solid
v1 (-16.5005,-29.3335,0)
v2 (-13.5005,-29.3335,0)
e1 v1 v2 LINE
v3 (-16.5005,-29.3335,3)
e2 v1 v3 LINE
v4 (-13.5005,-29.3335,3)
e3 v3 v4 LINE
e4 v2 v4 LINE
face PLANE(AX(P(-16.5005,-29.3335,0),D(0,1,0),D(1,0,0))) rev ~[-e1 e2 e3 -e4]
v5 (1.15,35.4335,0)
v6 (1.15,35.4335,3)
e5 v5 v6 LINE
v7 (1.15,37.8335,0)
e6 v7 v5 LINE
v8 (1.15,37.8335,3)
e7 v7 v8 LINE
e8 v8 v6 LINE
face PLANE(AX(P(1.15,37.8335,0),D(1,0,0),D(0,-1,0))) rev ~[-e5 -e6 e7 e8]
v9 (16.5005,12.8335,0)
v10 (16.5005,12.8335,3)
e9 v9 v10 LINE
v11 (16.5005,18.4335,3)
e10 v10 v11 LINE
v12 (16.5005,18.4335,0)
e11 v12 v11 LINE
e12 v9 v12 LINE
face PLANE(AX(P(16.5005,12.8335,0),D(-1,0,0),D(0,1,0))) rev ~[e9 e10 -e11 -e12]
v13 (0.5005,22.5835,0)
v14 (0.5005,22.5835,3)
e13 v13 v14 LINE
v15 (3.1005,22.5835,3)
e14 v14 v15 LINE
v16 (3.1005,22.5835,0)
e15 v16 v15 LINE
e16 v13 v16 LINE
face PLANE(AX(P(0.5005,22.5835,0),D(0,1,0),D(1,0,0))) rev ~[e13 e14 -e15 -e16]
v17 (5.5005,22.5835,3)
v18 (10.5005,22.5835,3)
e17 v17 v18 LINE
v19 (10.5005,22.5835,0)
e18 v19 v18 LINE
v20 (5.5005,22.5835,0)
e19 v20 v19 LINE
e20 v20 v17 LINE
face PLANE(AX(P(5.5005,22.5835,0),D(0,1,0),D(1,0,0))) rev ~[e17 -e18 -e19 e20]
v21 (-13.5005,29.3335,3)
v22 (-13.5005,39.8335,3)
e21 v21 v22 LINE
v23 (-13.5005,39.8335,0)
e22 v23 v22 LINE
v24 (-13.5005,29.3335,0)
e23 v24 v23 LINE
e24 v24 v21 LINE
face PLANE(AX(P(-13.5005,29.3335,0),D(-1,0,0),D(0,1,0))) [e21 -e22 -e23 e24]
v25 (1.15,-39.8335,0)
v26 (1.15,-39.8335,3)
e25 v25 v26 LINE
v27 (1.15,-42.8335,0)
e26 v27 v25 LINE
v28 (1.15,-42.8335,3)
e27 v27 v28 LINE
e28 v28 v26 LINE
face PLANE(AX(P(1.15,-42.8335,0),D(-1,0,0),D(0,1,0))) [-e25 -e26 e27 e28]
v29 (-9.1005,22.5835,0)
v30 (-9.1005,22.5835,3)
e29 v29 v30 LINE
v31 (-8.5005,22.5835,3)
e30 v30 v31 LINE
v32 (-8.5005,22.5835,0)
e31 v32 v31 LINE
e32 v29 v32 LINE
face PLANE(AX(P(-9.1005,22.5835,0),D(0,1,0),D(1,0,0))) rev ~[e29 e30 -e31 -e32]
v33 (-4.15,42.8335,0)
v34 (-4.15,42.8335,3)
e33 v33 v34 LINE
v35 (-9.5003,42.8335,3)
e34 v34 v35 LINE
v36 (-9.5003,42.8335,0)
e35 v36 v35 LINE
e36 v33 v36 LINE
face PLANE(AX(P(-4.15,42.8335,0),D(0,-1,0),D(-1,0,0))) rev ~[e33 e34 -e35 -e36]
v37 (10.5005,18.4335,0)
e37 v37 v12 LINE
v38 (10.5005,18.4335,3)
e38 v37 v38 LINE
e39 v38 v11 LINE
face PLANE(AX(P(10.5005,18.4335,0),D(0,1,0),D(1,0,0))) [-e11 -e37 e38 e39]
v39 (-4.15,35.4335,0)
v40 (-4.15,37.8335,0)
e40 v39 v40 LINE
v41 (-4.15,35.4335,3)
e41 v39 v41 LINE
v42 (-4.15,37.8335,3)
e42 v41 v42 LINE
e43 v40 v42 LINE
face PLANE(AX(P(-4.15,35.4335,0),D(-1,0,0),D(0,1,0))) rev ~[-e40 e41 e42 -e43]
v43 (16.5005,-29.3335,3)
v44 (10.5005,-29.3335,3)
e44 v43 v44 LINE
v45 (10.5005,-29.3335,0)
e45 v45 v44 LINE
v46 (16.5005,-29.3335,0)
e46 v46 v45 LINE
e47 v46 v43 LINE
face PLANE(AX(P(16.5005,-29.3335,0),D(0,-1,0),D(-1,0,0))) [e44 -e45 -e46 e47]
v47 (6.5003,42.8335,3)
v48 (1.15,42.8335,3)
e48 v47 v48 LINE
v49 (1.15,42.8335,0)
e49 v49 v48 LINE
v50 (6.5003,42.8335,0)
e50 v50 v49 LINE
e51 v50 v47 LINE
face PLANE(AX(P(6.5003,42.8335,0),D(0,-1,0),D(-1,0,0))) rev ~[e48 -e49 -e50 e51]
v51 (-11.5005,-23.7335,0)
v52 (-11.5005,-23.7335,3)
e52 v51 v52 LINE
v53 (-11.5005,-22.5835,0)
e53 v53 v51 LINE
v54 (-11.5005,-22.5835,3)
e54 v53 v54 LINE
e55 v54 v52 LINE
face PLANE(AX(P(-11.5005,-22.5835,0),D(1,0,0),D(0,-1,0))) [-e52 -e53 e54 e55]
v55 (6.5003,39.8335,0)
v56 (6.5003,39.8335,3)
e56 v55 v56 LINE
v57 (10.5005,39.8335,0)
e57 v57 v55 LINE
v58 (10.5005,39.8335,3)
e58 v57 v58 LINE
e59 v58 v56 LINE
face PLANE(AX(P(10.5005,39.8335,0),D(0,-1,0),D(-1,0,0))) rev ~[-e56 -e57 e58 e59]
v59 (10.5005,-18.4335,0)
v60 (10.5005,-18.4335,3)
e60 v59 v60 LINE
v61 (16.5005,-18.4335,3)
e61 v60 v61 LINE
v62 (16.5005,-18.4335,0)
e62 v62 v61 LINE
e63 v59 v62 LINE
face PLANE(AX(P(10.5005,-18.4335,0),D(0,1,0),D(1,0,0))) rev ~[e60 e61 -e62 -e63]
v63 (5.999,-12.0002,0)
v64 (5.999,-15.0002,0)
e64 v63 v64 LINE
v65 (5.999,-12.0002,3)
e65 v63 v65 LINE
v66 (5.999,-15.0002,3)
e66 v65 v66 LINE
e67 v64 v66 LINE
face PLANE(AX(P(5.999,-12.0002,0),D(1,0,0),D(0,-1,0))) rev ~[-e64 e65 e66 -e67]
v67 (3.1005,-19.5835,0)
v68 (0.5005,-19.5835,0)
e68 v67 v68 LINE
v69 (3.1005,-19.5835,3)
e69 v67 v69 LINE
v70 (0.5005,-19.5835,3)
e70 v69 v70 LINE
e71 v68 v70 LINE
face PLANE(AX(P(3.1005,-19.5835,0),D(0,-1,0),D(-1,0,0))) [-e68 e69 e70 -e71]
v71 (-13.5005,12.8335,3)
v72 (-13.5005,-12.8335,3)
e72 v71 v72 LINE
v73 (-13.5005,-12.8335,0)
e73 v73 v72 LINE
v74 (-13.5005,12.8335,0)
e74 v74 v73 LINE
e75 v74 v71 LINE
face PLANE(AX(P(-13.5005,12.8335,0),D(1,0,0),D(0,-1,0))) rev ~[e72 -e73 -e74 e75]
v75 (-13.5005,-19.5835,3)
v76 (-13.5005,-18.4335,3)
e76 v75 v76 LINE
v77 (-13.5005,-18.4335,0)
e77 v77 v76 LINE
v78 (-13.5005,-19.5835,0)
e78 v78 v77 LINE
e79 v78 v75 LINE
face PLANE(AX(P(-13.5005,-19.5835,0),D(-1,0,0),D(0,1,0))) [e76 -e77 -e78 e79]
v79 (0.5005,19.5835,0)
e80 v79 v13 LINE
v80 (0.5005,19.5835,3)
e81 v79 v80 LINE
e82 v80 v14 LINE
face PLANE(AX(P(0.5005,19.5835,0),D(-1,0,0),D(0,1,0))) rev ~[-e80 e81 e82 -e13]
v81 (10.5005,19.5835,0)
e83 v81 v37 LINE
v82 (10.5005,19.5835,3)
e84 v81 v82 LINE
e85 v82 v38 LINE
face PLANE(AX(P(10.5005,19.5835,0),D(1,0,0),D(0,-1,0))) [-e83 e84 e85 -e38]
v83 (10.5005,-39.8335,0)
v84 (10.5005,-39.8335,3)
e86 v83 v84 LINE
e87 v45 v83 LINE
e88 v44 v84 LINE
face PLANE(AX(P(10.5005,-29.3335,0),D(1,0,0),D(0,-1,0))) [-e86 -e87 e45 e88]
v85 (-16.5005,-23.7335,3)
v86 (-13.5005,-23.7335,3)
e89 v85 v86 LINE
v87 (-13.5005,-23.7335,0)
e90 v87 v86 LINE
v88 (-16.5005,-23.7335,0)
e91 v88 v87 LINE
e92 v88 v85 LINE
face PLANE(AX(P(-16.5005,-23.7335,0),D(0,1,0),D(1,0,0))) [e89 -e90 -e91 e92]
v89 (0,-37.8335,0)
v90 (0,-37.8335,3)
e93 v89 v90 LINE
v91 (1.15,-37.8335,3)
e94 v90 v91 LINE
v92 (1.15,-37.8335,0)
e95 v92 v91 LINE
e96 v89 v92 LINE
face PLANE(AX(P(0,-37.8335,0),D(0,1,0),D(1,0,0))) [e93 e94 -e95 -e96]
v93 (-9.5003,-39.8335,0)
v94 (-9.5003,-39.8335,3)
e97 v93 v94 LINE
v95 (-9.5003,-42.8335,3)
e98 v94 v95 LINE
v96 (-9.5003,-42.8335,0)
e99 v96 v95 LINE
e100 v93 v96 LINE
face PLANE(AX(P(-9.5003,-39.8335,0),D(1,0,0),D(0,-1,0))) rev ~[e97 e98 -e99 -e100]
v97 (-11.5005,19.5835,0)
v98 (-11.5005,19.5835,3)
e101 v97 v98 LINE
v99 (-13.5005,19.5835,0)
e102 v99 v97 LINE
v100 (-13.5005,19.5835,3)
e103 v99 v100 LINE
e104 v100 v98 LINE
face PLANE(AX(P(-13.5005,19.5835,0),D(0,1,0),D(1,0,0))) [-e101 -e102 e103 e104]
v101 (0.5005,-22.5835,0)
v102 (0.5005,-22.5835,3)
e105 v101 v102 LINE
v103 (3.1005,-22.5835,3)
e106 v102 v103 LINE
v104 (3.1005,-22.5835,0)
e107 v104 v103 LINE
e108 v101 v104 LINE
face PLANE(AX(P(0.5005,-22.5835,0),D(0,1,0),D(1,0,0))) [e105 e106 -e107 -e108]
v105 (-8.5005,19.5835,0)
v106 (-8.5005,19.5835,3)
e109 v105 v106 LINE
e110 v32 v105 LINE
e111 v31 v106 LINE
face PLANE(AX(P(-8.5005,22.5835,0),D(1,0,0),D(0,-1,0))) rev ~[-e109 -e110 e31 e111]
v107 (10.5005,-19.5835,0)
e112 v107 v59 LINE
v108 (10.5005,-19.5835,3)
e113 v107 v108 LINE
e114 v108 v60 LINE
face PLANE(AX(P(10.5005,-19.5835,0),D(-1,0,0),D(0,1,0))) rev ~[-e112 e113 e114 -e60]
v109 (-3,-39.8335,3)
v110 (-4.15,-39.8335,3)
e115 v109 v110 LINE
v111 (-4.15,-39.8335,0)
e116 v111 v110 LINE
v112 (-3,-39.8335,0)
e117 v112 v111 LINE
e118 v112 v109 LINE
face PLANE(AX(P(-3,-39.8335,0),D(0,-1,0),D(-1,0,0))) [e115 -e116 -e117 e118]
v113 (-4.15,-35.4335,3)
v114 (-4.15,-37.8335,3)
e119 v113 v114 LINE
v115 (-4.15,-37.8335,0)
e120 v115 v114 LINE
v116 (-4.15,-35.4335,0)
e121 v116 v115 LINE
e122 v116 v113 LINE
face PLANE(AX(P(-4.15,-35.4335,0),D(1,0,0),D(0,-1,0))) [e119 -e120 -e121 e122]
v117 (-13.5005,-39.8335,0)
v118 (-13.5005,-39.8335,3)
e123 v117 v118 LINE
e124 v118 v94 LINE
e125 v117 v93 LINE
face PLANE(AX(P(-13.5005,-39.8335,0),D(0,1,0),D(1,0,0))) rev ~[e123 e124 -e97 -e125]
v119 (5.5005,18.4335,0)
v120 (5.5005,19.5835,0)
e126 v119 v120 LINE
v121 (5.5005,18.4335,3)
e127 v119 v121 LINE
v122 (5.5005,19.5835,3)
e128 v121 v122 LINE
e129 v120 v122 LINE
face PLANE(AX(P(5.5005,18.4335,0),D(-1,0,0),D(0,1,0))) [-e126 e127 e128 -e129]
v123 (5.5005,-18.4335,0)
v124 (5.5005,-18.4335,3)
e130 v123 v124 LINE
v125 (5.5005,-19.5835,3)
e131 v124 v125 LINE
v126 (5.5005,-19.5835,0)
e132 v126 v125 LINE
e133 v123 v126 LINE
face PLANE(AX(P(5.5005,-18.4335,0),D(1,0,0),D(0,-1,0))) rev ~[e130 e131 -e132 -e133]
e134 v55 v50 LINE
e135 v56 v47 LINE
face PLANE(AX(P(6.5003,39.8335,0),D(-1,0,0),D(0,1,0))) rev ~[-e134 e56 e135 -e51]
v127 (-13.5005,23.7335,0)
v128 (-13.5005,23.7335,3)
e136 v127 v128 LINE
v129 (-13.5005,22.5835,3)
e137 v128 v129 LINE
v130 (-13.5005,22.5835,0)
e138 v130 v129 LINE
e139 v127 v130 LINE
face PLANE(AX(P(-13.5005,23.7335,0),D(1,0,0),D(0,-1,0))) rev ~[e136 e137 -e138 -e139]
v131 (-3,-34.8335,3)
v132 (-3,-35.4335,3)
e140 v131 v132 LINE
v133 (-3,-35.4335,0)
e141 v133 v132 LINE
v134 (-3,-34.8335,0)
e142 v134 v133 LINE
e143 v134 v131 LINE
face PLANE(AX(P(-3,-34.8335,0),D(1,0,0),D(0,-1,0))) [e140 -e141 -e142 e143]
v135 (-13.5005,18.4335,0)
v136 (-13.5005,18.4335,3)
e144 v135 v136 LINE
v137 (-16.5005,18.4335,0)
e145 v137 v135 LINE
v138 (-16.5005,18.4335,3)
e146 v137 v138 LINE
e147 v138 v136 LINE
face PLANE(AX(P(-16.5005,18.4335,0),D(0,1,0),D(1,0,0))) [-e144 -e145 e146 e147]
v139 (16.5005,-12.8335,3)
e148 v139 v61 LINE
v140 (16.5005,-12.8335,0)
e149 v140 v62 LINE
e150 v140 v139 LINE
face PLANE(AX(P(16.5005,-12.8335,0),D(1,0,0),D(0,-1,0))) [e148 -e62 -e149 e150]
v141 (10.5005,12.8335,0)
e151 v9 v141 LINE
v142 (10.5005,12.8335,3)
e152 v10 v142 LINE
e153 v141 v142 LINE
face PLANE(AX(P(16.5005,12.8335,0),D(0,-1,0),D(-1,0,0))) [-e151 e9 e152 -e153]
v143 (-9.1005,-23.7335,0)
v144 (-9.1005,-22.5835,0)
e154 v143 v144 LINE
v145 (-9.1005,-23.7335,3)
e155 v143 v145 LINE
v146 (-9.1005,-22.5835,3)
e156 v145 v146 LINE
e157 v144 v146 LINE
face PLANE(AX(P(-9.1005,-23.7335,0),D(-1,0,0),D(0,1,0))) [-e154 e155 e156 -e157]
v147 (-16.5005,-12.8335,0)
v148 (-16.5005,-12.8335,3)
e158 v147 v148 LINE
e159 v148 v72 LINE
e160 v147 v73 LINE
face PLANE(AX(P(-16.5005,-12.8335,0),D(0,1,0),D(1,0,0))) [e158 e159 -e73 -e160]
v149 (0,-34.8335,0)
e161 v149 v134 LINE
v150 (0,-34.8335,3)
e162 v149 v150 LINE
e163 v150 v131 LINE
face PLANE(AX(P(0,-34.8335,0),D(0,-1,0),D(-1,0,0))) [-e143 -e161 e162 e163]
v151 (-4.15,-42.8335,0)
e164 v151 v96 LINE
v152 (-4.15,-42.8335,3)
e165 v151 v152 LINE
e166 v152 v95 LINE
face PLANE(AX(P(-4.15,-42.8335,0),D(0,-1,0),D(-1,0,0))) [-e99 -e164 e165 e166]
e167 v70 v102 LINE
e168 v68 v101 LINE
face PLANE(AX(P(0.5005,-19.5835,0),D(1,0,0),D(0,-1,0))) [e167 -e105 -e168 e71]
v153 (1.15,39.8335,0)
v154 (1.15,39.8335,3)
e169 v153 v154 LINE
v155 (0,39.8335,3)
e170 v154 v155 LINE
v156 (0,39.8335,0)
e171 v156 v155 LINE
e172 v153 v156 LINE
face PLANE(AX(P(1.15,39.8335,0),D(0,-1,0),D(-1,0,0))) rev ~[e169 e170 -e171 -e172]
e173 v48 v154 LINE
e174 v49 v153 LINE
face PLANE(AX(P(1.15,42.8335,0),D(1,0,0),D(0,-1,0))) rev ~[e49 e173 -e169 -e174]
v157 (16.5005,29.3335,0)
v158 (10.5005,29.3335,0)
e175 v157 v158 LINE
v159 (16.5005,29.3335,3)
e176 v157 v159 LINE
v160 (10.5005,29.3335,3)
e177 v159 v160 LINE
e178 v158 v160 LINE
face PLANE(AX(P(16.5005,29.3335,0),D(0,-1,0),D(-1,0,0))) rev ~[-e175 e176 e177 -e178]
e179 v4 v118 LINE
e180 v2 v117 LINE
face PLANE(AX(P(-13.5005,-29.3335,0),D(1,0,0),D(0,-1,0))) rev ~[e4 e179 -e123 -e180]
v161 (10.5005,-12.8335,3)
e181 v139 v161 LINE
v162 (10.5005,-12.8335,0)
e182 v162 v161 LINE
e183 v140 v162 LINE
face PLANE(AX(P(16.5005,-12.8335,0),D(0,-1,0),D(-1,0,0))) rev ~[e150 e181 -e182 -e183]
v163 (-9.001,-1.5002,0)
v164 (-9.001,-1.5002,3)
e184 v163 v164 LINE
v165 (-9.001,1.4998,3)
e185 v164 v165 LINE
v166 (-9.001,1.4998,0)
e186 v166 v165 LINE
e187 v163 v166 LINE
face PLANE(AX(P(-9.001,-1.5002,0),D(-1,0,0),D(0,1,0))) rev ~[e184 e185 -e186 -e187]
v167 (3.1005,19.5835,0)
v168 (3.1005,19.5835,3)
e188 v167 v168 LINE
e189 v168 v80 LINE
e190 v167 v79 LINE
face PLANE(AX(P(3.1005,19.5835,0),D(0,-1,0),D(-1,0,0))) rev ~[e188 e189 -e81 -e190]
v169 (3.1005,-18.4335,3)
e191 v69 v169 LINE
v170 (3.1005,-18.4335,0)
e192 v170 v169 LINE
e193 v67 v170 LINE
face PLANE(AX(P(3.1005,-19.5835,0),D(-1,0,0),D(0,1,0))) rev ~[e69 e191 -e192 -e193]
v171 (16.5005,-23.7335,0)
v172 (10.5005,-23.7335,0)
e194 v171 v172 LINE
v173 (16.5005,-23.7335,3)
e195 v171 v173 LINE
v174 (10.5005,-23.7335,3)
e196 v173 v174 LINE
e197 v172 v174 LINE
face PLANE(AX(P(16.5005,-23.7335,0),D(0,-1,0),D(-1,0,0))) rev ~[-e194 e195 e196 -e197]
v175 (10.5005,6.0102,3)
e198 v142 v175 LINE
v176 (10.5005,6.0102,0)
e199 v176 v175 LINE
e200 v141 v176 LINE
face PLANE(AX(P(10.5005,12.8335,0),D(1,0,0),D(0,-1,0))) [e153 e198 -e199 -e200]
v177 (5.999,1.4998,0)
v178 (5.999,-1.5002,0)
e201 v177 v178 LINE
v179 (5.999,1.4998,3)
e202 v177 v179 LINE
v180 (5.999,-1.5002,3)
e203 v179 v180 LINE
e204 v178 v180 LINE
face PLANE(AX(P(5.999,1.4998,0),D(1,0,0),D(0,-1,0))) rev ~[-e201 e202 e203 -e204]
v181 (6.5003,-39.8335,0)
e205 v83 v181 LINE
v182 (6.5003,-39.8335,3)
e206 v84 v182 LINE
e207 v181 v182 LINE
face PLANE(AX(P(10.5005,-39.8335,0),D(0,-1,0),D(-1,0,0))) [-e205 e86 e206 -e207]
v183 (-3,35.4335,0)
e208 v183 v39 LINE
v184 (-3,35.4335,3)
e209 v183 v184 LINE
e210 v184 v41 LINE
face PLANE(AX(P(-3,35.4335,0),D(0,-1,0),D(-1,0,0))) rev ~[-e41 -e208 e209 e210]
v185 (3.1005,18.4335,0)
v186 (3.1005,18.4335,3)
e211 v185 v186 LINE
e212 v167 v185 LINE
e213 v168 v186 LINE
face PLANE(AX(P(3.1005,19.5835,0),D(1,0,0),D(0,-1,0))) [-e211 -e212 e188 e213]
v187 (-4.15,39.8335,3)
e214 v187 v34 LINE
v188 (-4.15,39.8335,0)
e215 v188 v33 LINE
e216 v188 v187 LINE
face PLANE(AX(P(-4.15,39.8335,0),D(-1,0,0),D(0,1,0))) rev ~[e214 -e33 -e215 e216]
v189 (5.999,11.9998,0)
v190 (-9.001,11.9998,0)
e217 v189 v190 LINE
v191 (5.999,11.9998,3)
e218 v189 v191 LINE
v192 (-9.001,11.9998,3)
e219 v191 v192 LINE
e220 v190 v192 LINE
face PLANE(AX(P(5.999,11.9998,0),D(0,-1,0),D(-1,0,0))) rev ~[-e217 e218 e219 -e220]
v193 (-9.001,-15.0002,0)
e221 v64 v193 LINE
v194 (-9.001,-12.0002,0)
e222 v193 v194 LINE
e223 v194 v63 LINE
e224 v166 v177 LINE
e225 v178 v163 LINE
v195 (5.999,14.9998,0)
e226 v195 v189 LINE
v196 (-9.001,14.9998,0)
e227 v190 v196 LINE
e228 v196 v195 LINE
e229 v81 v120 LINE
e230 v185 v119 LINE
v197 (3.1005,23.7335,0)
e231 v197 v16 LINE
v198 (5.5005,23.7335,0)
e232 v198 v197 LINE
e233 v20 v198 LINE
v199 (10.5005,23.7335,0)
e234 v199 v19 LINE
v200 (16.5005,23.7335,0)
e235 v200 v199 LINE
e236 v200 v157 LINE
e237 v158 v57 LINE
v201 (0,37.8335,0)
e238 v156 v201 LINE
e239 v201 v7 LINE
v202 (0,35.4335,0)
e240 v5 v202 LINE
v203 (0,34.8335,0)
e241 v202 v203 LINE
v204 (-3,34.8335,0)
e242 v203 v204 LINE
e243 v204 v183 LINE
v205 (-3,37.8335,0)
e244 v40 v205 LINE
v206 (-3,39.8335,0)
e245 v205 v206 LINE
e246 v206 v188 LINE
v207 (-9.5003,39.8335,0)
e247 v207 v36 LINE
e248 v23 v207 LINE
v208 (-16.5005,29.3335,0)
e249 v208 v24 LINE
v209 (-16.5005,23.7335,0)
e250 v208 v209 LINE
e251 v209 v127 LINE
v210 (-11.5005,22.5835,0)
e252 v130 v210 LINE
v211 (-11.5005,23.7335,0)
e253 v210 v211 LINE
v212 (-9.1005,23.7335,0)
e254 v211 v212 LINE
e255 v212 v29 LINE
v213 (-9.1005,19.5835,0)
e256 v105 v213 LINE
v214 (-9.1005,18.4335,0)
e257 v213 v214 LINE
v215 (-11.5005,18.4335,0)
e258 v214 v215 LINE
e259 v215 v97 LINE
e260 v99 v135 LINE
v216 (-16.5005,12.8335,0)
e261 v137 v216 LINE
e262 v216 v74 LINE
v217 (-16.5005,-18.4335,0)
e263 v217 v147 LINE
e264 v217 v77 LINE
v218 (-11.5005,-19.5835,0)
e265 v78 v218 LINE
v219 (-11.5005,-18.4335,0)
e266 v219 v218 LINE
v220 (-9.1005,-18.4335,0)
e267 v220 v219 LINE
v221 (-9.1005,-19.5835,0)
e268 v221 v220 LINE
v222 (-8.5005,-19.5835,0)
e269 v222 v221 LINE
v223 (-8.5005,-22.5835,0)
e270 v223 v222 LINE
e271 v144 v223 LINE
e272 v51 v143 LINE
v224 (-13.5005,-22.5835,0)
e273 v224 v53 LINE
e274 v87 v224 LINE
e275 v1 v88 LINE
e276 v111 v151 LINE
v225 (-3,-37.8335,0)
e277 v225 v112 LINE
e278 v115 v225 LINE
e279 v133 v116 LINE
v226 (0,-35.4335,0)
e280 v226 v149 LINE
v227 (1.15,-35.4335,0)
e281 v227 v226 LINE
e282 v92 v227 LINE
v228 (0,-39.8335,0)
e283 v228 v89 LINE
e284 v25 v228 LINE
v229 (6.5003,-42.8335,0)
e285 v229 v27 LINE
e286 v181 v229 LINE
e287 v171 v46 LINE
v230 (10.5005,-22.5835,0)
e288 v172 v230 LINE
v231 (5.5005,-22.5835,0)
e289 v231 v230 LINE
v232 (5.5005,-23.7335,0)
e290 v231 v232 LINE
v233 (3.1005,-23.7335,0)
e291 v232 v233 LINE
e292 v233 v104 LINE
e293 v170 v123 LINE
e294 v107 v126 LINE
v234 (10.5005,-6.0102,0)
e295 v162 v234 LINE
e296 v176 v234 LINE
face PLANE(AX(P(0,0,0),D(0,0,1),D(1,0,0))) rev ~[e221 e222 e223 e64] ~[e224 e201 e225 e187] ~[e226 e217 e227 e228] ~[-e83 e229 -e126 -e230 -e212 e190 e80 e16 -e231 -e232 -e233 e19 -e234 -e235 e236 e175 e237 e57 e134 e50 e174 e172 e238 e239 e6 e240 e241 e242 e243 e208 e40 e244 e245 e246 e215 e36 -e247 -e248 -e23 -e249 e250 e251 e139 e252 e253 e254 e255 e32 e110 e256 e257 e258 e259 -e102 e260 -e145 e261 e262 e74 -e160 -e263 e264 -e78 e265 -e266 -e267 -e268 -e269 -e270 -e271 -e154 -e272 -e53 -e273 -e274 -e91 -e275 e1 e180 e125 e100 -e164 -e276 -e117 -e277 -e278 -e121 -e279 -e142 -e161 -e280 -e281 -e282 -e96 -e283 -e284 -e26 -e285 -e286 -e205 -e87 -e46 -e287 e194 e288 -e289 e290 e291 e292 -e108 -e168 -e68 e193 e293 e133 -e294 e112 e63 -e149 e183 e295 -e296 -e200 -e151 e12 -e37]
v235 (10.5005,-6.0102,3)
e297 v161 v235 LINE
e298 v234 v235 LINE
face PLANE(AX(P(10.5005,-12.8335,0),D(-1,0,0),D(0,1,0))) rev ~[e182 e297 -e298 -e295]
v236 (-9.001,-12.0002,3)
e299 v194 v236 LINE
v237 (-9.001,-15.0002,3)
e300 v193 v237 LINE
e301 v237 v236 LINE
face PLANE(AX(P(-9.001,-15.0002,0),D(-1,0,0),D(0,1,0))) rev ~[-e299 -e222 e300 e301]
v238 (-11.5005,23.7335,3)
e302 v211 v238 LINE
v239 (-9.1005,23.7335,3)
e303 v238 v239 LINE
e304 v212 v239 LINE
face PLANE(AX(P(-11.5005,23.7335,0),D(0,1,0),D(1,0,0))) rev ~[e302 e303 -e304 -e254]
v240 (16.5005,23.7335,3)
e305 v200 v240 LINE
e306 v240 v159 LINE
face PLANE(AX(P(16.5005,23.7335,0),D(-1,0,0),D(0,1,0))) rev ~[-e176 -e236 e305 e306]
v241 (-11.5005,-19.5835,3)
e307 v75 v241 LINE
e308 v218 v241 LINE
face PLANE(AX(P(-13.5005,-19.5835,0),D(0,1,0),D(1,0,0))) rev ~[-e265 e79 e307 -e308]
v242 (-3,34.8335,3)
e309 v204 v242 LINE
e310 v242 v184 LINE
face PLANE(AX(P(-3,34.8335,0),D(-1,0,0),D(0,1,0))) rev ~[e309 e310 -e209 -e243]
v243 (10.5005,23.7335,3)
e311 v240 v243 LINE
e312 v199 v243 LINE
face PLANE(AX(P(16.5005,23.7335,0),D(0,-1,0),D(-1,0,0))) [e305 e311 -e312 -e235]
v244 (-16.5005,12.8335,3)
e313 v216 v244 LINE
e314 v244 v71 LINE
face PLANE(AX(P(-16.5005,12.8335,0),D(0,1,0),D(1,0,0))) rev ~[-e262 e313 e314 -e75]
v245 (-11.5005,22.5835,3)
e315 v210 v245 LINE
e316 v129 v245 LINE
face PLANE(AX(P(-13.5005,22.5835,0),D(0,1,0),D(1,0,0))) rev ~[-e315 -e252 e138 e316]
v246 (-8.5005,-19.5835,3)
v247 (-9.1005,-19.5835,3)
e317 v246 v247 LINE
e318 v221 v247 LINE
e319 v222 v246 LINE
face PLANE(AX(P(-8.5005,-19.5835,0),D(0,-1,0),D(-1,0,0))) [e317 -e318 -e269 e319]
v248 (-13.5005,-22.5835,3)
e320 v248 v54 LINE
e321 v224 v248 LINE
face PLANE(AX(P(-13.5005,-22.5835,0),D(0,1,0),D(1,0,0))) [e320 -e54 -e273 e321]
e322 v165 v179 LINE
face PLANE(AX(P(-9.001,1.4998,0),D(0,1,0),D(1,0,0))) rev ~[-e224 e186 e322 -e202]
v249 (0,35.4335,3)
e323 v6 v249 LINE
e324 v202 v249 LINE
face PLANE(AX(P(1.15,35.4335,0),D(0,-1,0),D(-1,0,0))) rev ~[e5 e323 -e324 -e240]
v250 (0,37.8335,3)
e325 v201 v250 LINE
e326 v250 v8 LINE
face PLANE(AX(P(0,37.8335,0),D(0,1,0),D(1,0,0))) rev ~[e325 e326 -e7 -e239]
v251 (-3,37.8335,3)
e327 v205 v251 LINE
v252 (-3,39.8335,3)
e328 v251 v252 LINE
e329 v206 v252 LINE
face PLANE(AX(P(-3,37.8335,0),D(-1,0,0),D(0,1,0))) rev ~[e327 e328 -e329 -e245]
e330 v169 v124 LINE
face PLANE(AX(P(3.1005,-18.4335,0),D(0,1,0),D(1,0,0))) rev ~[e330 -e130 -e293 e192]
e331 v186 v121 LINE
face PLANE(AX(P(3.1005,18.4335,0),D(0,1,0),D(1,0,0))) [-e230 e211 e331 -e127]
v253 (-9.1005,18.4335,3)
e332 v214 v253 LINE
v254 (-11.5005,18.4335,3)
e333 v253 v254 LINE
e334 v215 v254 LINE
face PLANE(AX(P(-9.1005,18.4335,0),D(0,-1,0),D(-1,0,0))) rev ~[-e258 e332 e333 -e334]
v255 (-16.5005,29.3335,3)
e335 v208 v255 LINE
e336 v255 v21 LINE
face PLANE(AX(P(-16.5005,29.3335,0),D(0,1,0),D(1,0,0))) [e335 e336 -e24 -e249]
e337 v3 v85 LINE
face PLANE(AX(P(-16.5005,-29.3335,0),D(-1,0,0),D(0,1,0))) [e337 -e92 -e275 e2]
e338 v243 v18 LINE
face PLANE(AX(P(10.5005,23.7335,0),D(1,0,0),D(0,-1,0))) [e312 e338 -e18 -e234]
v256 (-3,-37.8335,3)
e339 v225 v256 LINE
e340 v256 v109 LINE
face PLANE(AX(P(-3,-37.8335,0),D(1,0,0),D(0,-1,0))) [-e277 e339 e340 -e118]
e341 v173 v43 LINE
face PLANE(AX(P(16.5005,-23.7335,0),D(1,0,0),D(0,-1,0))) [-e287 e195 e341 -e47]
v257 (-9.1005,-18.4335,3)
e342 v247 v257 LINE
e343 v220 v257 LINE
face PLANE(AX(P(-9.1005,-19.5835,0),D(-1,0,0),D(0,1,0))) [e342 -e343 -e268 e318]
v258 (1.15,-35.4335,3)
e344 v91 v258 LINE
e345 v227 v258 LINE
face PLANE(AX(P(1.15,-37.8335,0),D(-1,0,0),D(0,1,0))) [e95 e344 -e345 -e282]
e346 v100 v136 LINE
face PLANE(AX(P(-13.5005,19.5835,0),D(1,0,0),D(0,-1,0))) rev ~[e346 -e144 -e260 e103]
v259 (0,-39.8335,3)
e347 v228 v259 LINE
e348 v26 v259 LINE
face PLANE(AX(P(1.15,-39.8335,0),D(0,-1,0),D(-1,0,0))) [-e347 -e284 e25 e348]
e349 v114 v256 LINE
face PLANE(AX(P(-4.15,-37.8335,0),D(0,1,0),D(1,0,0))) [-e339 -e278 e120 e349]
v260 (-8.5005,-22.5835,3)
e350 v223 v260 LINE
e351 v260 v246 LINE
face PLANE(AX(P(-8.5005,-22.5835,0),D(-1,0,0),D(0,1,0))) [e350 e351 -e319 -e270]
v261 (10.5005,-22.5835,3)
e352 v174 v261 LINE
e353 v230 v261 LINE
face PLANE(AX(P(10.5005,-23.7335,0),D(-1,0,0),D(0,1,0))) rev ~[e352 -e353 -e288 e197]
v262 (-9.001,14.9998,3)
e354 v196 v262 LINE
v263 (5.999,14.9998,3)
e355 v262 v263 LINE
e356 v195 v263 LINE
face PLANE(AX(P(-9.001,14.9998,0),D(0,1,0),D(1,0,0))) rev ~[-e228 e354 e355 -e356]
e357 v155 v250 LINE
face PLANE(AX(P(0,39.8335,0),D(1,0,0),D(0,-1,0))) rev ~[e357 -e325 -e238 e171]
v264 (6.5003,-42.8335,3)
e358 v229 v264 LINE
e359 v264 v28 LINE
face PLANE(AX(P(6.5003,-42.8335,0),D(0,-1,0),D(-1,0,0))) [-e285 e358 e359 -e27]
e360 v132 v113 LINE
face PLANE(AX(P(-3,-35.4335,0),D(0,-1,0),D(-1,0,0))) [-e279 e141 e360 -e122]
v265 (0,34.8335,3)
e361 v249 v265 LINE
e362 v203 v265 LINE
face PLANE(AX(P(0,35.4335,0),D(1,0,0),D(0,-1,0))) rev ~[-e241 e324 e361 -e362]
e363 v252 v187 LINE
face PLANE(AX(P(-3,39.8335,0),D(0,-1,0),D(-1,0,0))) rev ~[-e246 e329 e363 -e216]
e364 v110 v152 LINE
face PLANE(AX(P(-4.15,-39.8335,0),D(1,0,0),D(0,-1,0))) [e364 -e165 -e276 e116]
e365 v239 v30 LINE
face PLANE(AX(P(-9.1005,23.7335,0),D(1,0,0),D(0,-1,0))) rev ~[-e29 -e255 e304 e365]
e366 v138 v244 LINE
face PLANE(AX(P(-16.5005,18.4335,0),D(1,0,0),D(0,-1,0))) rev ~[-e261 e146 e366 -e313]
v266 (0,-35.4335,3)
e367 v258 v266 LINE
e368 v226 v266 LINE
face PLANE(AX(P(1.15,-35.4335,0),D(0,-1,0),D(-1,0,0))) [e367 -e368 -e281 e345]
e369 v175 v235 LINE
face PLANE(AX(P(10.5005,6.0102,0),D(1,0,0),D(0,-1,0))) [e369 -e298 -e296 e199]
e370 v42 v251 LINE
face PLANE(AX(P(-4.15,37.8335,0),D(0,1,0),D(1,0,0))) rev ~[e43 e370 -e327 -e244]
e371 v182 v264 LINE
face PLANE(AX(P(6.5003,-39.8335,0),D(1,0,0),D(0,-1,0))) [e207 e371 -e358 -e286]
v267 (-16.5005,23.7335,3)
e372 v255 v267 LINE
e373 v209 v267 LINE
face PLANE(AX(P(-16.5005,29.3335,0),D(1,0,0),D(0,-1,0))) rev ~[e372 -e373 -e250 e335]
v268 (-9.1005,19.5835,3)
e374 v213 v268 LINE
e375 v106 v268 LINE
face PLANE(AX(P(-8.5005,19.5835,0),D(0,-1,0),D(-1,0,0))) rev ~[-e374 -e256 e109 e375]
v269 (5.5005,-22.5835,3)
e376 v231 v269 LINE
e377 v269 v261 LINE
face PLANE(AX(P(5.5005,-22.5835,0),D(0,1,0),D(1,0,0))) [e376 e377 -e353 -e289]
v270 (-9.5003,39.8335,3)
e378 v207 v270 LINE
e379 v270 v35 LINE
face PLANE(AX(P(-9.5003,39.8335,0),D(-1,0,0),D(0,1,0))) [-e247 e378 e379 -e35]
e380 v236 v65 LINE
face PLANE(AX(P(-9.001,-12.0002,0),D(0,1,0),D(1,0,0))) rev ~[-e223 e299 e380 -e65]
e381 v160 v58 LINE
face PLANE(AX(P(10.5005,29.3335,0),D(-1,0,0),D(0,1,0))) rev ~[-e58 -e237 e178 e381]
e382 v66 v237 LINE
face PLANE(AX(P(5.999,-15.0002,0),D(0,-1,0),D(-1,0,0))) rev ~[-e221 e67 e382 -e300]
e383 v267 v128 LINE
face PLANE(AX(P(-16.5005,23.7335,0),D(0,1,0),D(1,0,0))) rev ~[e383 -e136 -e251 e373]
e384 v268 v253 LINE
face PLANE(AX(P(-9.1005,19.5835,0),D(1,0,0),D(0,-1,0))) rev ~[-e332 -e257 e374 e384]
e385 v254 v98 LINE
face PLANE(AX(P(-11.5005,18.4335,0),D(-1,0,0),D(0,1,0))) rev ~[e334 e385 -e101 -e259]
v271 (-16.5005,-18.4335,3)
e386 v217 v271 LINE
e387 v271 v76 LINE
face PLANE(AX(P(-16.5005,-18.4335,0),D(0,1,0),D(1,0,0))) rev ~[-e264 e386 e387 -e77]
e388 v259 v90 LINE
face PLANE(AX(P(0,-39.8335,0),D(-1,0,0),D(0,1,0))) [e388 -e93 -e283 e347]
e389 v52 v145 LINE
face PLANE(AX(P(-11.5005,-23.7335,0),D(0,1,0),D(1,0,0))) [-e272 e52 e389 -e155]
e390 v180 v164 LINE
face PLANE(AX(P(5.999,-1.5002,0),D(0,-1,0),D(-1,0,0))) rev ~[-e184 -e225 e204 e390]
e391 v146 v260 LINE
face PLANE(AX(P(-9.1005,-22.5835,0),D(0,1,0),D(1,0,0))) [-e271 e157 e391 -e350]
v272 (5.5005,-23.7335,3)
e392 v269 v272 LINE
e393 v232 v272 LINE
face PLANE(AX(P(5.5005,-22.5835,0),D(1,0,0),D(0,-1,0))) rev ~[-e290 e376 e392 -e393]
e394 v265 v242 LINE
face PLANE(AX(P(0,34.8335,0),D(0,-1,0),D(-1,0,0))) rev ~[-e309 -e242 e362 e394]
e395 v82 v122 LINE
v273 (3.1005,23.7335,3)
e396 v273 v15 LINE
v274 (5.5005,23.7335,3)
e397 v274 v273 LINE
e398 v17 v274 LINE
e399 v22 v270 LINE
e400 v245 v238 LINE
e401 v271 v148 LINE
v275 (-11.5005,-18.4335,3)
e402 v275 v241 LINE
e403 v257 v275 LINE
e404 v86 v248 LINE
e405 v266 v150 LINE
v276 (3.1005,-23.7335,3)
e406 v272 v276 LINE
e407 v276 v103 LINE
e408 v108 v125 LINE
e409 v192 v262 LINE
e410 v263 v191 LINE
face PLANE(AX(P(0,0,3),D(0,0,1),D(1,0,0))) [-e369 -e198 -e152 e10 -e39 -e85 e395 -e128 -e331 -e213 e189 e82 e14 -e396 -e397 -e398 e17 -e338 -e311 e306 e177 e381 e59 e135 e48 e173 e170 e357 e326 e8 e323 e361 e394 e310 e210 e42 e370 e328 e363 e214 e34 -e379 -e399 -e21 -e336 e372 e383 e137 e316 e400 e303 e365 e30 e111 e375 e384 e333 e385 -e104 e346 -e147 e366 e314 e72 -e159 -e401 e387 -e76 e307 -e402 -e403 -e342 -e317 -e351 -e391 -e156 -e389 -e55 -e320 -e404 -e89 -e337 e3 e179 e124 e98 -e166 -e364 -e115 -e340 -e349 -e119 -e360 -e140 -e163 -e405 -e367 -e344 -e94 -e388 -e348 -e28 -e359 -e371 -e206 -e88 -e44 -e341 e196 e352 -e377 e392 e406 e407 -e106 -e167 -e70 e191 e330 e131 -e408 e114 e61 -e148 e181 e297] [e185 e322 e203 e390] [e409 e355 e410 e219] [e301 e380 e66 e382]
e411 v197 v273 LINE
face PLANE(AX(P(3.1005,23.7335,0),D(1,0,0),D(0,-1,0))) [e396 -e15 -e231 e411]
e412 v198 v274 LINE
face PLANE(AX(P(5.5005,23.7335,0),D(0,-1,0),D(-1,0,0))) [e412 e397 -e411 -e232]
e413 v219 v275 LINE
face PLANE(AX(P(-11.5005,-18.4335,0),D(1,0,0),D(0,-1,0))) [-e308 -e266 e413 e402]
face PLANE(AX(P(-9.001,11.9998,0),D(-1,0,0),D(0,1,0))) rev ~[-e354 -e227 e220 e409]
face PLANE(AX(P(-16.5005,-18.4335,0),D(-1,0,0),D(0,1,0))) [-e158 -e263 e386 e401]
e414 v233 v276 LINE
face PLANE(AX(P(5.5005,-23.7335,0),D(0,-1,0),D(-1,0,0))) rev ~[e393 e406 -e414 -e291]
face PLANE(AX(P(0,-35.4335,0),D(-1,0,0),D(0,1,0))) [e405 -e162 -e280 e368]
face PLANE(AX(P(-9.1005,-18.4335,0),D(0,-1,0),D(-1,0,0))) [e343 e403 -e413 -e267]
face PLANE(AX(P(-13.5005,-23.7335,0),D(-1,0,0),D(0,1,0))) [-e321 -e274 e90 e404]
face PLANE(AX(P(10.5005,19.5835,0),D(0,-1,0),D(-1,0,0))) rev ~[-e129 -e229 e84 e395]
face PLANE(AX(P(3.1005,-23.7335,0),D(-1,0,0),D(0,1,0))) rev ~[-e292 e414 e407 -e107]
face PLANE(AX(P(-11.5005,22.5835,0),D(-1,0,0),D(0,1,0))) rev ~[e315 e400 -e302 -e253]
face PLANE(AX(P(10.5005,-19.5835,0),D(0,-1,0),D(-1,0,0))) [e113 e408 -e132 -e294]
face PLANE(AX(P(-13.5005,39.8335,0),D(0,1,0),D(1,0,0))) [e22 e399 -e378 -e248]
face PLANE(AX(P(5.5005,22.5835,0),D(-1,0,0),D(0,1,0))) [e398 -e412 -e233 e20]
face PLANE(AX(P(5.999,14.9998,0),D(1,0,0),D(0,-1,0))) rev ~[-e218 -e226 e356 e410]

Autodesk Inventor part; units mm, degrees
ref_plane "YZ Plane" through (0, 0, 0) normal (1, 0, 0) x (0, 1, 0)
ref_plane "XZ Plane" through (0, 0, 0) normal (0, 1, 0) x (-1, 0, 0)
ref_plane "XY Plane" through (0, 0, 0) normal (0, 0, 1) x (1, 0, 0)
sketch "Sketch1" plane through (0, 0, 0) normal (0, 0, 1) x (1, 0, 0)
  line L0 (16.5005, -29.3335) -> (10.5005, -29.3335)
  line L1 (10.5005, -29.3335) -> (10.5005, -39.8335)
  line L2 (16.5005, -23.7335) -> (10.5005, -23.7335)
  line L3 (10.5005, -23.7335) -> (10.5005, -22.5835)
  line L4 (10.5005, -18.4335) -> (16.5005, -18.4335)
  line L5 (16.5005, -23.7335) -> (16.5005, -29.3335)
  line L6 (25.9291, -21.0835) -> (-23.8941, -21.0835) construction
  line L7 (10.5005, -19.5835) -> (5.5005, -19.5835)
  line L8 (0.5005, -19.5835) -> (0.5005, -22.5835)
  line L9 (0.5005, -22.5835) -> (3.1005, -22.5835)
  line L10 (3.1005, -18.4335) -> (5.5005, -18.4335)
  line L11 (5.5005, -18.4335) -> (5.5005, -19.5835)
  line L12 (5.5005, -23.7335) -> (3.1005, -23.7335)
  line L13 (3.1005, -23.7335) -> (3.1005, -22.5835)
  line L14 (10.5005, -19.5835) -> (10.5005, -18.4335)
  line L15 (16.5005, -12.8335) -> (10.5005, -12.8335)
  line L16 (10.5005, -12.8335) -> (10.5005, -6.0102)
  line L17 (16.5005, -12.8335) -> (16.5005, -18.4335)
  line L18 (-29.2331, 0) -> (54.6642, 0) construction
  line L19 (5.5005, -22.5835) -> (5.5005, -23.7335)
  line L20 (3.1005, -19.5835) -> (3.1005, -18.4335)
  line L21 (3.1005, -19.5835) -> (0.5005, -19.5835)
  line L22 (5.5005, -22.5835) -> (10.5005, -22.5835)
  line L23 (16.5005, 29.3335) -> (10.5005, 29.3335)
  line L24 (10.5005, 29.3335) -> (10.5005, 39.8335)
  line L25 (16.5005, 23.7335) -> (10.5005, 23.7335)
  line L26 (10.5005, 23.7335) -> (10.5005, 22.5835)
  line L27 (10.5005, 18.4335) -> (16.5005, 18.4335)
  line L28 (16.5005, 23.7335) -> (16.5005, 29.3335)
  line L29 (10.5005, 19.5835) -> (5.5005, 19.5835)
  line L30 (0.5005, 19.5835) -> (0.5005, 22.5835)
  line L31 (0.5005, 22.5835) -> (3.1005, 22.5835)
  line L32 (3.1005, 18.4335) -> (5.5005, 18.4335)
  line L33 (5.5005, 18.4335) -> (5.5005, 19.5835)
  line L34 (5.5005, 23.7335) -> (3.1005, 23.7335)
  line L35 (3.1005, 23.7335) -> (3.1005, 22.5835)
  line L36 (10.5005, 19.5835) -> (10.5005, 18.4335)
  line L37 (16.5005, 12.8335) -> (10.5005, 12.8335)
  line L38 (10.5005, 12.8335) -> (10.5005, 6.0102)
  line L39 (16.5005, 12.8335) -> (16.5005, 18.4335)
  line L40 (5.5005, 22.5835) -> (5.5005, 23.7335)
  line L41 (3.1005, 19.5835) -> (3.1005, 18.4335)
  line L42 (3.1005, 19.5835) -> (0.5005, 19.5835)
  line L43 (5.5005, 22.5835) -> (10.5005, 22.5835)
  line L44 (10.5005, 6.0102) -> (10.5005, -6.0102)
  line L45 (-16.5005, -29.3335) -> (-13.5005, -29.3335)
  line L46 (-13.5005, -29.3335) -> (-13.5005, -39.8335)
  line L47 (-16.5005, -23.7335) -> (-13.5005, -23.7335)
  line L48 (-13.5005, -23.7335) -> (-13.5005, -22.5835)
  line L49 (-13.5005, -22.5835) -> (-11.5005, -22.5835)
  line L50 (-11.5005, -22.5835) -> (-11.5005, -23.7335)
  line L51 (-11.5005, -23.7335) -> (-9.1005, -23.7335)
  line L52 (-9.1005, -23.7335) -> (-9.1005, -22.5835)
  line L53 (-9.1005, -22.5835) -> (-8.5005, -22.5835)
  line L54 (-8.5005, -22.5835) -> (-8.5005, -19.5835)
  line L55 (-8.5005, -19.5835) -> (-9.1005, -19.5835)
  line L56 (-9.1005, -19.5835) -> (-9.1005, -18.4335)
  line L57 (-9.1005, -18.4335) -> (-11.5005, -18.4335)
  line L58 (-11.5005, -18.4335) -> (-11.5005, -19.5835)
  line L59 (-13.5005, -19.5835) -> (-13.5005, -18.4335)
  line L60 (-16.5005, -18.4335) -> (-13.5005, -18.4335)
  line L61 (-13.5005, -19.5835) -> (-11.5005, -19.5835)
  line L62 (-16.5005, -29.3335) -> (-16.5005, -23.7335)
  line L63 (-16.5005, -12.8335) -> (-13.5005, -12.8335)
  line L64 (-16.5005, -18.4335) -> (-16.5005, -12.8335)
  line L65 (-16.5005, 29.3335) -> (-13.5005, 29.3335)
  line L66 (-13.5005, 29.3335) -> (-13.5005, 39.8335)
  line L67 (-16.5005, 23.7335) -> (-13.5005, 23.7335)
  line L68 (-13.5005, 23.7335) -> (-13.5005, 22.5835)
  line L69 (-13.5005, 22.5835) -> (-11.5005, 22.5835)
  line L70 (-11.5005, 22.5835) -> (-11.5005, 23.7335)
  line L71 (-11.5005, 23.7335) -> (-9.1005, 23.7335)
  line L72 (-9.1005, 23.7335) -> (-9.1005, 22.5835)
  line L73 (-9.1005, 22.5835) -> (-8.5005, 22.5835)
  line L74 (-8.5005, 22.5835) -> (-8.5005, 19.5835)
  line L75 (-8.5005, 19.5835) -> (-9.1005, 19.5835)
  line L76 (-9.1005, 19.5835) -> (-9.1005, 18.4335)
  line L77 (-9.1005, 18.4335) -> (-11.5005, 18.4335)
  line L78 (-11.5005, 18.4335) -> (-11.5005, 19.5835)
  line L79 (-13.5005, 19.5835) -> (-13.5005, 18.4335)
  line L80 (-16.5005, 18.4335) -> (-13.5005, 18.4335)
  line L81 (-13.5005, 19.5835) -> (-11.5005, 19.5835)
  line L82 (-16.5005, 29.3335) -> (-16.5005, 23.7335)
  line L83 (-16.5005, 12.8335) -> (-13.5005, 12.8335)
  line L84 (-16.5005, 18.4335) -> (-16.5005, 12.8335)
  line L85 (-13.5005, 12.8335) -> (-13.5005, -12.8335)
  line L86 (10.5005, -39.8335) -> (6.5003, -39.8335)
  line L87 (6.5003, -39.8335) -> (6.5003, -42.8335)
  line L88 (1.15, -42.8335) -> (1.15, -39.8335)
  line L89 (1.15, -39.8335) -> (0, -39.8335)
  line L90 (0, -39.8335) -> (0, -37.8335)
  line L91 (0, -37.8335) -> (1.15, -37.8335)
  line L92 (1.15, -37.8335) -> (1.15, -35.4335)
  line L93 (1.15, -35.4335) -> (0, -35.4335)
  line L94 (0, -35.4335) -> (0, -34.8335)
  line L95 (0, -34.8335) -> (-3, -34.8335)
  line L96 (-3, -34.8335) -> (-3, -35.4335)
  line L97 (-3, -35.4335) -> (-4.15, -35.4335)
  line L98 (-4.15, -35.4335) -> (-4.15, -37.8335)
  line L99 (-4.15, -37.8335) -> (-3, -37.8335)
  line L100 (-3, -37.8335) -> (-3, -39.8335)
  line L101 (-3, -39.8335) -> (-4.15, -39.8335)
  line L102 (-4.15, -39.8335) -> (-4.15, -42.8335)
  line L103 (-13.5005, -39.8335) -> (-9.5003, -39.8335)
  line L104 (-9.5003, -39.8335) -> (-9.5003, -42.8335)
  line L105 (-1.5, -32.9153) -> (-1.5, -45.3833) construction
  line L106 (6.5003, -42.8335) -> (1.15, -42.8335)
  line L107 (-4.15, -42.8335) -> (-9.5003, -42.8335)
  line L108 (10.5005, 39.8335) -> (6.5003, 39.8335)
  line L109 (6.5003, 39.8335) -> (6.5003, 42.8335)
  line L110 (1.15, 42.8335) -> (1.15, 39.8335)
  line L111 (1.15, 39.8335) -> (0, 39.8335)
  line L112 (0, 39.8335) -> (0, 37.8335)
  line L113 (0, 37.8335) -> (1.15, 37.8335)
  line L114 (1.15, 37.8335) -> (1.15, 35.4335)
  line L115 (1.15, 35.4335) -> (0, 35.4335)
  line L116 (0, 35.4335) -> (0, 34.8335)
  line L117 (0, 34.8335) -> (-3, 34.8335)
  line L118 (-3, 34.8335) -> (-3, 35.4335)
  line L119 (-3, 35.4335) -> (-4.15, 35.4335)
  line L120 (-4.15, 35.4335) -> (-4.15, 37.8335)
  line L121 (-4.15, 37.8335) -> (-3, 37.8335)
  line L122 (-3, 37.8335) -> (-3, 39.8335)
  line L123 (-3, 39.8335) -> (-4.15, 39.8335)
  line L124 (-4.15, 39.8335) -> (-4.15, 42.8335)
  line L125 (-13.5005, 39.8335) -> (-9.5003, 39.8335)
  line L126 (-9.5003, 39.8335) -> (-9.5003, 42.8335)
  line L127 (6.5003, 42.8335) -> (1.15, 42.8335)
  line L128 (-4.15, 42.8335) -> (-9.5003, 42.8335)
  line L129 (5.999, 14.9998) -> (5.999, 11.9998)
  line L130 (5.999, 11.9998) -> (-9.001, 11.9998)
  line L131 (-9.001, 11.9998) -> (-9.001, 14.9998)
  line L132 (-9.001, 14.9998) -> (5.999, 14.9998)
  line L133 (-9.001, -1.5002) -> (-9.001, 1.4998)
  line L134 (-9.001, 1.4998) -> (5.999, 1.4998)
  line L135 (5.999, 1.4998) -> (5.999, -1.5002)
  line L136 (5.999, -1.5002) -> (-9.001, -1.5002)
  line L137 (5.999, -12.0002) -> (5.999, -15.0002)
  line L138 (5.999, -15.0002) -> (-9.001, -15.0002)
  line L139 (-9.001, -15.0002) -> (-9.001, -12.0002)
  line L140 (-9.001, -12.0002) -> (5.999, -12.0002)
  point P0 (0, 0)
  point P1 (-13.5005, 42.8335)
  point P2 (10.5005, 42.8335)
  point P3 (10.5005, -42.8335)
  point P4 (-13.5005, -42.8335)
  dimension "d2" = 6
  dimension "d4" = 5.6
  dimension "d5" = 5.3
  dimension "d6" = 3
  dimension "d8" = 2.4
  dimension "d11" = 16
  dimension "d14" = 3
  dimension "d15" = 5
  dimension "d16" = 8
  dimension "d17" = 24.001
  dimension "d18" = 16.0007
extrude "Extrusion1" add sketch "Sketch1" along normal blind 3
equation "\"d18\" = 0.666667 * d17"
properties part number "X-Anchor_Bearing_Ring_Top_Single"
